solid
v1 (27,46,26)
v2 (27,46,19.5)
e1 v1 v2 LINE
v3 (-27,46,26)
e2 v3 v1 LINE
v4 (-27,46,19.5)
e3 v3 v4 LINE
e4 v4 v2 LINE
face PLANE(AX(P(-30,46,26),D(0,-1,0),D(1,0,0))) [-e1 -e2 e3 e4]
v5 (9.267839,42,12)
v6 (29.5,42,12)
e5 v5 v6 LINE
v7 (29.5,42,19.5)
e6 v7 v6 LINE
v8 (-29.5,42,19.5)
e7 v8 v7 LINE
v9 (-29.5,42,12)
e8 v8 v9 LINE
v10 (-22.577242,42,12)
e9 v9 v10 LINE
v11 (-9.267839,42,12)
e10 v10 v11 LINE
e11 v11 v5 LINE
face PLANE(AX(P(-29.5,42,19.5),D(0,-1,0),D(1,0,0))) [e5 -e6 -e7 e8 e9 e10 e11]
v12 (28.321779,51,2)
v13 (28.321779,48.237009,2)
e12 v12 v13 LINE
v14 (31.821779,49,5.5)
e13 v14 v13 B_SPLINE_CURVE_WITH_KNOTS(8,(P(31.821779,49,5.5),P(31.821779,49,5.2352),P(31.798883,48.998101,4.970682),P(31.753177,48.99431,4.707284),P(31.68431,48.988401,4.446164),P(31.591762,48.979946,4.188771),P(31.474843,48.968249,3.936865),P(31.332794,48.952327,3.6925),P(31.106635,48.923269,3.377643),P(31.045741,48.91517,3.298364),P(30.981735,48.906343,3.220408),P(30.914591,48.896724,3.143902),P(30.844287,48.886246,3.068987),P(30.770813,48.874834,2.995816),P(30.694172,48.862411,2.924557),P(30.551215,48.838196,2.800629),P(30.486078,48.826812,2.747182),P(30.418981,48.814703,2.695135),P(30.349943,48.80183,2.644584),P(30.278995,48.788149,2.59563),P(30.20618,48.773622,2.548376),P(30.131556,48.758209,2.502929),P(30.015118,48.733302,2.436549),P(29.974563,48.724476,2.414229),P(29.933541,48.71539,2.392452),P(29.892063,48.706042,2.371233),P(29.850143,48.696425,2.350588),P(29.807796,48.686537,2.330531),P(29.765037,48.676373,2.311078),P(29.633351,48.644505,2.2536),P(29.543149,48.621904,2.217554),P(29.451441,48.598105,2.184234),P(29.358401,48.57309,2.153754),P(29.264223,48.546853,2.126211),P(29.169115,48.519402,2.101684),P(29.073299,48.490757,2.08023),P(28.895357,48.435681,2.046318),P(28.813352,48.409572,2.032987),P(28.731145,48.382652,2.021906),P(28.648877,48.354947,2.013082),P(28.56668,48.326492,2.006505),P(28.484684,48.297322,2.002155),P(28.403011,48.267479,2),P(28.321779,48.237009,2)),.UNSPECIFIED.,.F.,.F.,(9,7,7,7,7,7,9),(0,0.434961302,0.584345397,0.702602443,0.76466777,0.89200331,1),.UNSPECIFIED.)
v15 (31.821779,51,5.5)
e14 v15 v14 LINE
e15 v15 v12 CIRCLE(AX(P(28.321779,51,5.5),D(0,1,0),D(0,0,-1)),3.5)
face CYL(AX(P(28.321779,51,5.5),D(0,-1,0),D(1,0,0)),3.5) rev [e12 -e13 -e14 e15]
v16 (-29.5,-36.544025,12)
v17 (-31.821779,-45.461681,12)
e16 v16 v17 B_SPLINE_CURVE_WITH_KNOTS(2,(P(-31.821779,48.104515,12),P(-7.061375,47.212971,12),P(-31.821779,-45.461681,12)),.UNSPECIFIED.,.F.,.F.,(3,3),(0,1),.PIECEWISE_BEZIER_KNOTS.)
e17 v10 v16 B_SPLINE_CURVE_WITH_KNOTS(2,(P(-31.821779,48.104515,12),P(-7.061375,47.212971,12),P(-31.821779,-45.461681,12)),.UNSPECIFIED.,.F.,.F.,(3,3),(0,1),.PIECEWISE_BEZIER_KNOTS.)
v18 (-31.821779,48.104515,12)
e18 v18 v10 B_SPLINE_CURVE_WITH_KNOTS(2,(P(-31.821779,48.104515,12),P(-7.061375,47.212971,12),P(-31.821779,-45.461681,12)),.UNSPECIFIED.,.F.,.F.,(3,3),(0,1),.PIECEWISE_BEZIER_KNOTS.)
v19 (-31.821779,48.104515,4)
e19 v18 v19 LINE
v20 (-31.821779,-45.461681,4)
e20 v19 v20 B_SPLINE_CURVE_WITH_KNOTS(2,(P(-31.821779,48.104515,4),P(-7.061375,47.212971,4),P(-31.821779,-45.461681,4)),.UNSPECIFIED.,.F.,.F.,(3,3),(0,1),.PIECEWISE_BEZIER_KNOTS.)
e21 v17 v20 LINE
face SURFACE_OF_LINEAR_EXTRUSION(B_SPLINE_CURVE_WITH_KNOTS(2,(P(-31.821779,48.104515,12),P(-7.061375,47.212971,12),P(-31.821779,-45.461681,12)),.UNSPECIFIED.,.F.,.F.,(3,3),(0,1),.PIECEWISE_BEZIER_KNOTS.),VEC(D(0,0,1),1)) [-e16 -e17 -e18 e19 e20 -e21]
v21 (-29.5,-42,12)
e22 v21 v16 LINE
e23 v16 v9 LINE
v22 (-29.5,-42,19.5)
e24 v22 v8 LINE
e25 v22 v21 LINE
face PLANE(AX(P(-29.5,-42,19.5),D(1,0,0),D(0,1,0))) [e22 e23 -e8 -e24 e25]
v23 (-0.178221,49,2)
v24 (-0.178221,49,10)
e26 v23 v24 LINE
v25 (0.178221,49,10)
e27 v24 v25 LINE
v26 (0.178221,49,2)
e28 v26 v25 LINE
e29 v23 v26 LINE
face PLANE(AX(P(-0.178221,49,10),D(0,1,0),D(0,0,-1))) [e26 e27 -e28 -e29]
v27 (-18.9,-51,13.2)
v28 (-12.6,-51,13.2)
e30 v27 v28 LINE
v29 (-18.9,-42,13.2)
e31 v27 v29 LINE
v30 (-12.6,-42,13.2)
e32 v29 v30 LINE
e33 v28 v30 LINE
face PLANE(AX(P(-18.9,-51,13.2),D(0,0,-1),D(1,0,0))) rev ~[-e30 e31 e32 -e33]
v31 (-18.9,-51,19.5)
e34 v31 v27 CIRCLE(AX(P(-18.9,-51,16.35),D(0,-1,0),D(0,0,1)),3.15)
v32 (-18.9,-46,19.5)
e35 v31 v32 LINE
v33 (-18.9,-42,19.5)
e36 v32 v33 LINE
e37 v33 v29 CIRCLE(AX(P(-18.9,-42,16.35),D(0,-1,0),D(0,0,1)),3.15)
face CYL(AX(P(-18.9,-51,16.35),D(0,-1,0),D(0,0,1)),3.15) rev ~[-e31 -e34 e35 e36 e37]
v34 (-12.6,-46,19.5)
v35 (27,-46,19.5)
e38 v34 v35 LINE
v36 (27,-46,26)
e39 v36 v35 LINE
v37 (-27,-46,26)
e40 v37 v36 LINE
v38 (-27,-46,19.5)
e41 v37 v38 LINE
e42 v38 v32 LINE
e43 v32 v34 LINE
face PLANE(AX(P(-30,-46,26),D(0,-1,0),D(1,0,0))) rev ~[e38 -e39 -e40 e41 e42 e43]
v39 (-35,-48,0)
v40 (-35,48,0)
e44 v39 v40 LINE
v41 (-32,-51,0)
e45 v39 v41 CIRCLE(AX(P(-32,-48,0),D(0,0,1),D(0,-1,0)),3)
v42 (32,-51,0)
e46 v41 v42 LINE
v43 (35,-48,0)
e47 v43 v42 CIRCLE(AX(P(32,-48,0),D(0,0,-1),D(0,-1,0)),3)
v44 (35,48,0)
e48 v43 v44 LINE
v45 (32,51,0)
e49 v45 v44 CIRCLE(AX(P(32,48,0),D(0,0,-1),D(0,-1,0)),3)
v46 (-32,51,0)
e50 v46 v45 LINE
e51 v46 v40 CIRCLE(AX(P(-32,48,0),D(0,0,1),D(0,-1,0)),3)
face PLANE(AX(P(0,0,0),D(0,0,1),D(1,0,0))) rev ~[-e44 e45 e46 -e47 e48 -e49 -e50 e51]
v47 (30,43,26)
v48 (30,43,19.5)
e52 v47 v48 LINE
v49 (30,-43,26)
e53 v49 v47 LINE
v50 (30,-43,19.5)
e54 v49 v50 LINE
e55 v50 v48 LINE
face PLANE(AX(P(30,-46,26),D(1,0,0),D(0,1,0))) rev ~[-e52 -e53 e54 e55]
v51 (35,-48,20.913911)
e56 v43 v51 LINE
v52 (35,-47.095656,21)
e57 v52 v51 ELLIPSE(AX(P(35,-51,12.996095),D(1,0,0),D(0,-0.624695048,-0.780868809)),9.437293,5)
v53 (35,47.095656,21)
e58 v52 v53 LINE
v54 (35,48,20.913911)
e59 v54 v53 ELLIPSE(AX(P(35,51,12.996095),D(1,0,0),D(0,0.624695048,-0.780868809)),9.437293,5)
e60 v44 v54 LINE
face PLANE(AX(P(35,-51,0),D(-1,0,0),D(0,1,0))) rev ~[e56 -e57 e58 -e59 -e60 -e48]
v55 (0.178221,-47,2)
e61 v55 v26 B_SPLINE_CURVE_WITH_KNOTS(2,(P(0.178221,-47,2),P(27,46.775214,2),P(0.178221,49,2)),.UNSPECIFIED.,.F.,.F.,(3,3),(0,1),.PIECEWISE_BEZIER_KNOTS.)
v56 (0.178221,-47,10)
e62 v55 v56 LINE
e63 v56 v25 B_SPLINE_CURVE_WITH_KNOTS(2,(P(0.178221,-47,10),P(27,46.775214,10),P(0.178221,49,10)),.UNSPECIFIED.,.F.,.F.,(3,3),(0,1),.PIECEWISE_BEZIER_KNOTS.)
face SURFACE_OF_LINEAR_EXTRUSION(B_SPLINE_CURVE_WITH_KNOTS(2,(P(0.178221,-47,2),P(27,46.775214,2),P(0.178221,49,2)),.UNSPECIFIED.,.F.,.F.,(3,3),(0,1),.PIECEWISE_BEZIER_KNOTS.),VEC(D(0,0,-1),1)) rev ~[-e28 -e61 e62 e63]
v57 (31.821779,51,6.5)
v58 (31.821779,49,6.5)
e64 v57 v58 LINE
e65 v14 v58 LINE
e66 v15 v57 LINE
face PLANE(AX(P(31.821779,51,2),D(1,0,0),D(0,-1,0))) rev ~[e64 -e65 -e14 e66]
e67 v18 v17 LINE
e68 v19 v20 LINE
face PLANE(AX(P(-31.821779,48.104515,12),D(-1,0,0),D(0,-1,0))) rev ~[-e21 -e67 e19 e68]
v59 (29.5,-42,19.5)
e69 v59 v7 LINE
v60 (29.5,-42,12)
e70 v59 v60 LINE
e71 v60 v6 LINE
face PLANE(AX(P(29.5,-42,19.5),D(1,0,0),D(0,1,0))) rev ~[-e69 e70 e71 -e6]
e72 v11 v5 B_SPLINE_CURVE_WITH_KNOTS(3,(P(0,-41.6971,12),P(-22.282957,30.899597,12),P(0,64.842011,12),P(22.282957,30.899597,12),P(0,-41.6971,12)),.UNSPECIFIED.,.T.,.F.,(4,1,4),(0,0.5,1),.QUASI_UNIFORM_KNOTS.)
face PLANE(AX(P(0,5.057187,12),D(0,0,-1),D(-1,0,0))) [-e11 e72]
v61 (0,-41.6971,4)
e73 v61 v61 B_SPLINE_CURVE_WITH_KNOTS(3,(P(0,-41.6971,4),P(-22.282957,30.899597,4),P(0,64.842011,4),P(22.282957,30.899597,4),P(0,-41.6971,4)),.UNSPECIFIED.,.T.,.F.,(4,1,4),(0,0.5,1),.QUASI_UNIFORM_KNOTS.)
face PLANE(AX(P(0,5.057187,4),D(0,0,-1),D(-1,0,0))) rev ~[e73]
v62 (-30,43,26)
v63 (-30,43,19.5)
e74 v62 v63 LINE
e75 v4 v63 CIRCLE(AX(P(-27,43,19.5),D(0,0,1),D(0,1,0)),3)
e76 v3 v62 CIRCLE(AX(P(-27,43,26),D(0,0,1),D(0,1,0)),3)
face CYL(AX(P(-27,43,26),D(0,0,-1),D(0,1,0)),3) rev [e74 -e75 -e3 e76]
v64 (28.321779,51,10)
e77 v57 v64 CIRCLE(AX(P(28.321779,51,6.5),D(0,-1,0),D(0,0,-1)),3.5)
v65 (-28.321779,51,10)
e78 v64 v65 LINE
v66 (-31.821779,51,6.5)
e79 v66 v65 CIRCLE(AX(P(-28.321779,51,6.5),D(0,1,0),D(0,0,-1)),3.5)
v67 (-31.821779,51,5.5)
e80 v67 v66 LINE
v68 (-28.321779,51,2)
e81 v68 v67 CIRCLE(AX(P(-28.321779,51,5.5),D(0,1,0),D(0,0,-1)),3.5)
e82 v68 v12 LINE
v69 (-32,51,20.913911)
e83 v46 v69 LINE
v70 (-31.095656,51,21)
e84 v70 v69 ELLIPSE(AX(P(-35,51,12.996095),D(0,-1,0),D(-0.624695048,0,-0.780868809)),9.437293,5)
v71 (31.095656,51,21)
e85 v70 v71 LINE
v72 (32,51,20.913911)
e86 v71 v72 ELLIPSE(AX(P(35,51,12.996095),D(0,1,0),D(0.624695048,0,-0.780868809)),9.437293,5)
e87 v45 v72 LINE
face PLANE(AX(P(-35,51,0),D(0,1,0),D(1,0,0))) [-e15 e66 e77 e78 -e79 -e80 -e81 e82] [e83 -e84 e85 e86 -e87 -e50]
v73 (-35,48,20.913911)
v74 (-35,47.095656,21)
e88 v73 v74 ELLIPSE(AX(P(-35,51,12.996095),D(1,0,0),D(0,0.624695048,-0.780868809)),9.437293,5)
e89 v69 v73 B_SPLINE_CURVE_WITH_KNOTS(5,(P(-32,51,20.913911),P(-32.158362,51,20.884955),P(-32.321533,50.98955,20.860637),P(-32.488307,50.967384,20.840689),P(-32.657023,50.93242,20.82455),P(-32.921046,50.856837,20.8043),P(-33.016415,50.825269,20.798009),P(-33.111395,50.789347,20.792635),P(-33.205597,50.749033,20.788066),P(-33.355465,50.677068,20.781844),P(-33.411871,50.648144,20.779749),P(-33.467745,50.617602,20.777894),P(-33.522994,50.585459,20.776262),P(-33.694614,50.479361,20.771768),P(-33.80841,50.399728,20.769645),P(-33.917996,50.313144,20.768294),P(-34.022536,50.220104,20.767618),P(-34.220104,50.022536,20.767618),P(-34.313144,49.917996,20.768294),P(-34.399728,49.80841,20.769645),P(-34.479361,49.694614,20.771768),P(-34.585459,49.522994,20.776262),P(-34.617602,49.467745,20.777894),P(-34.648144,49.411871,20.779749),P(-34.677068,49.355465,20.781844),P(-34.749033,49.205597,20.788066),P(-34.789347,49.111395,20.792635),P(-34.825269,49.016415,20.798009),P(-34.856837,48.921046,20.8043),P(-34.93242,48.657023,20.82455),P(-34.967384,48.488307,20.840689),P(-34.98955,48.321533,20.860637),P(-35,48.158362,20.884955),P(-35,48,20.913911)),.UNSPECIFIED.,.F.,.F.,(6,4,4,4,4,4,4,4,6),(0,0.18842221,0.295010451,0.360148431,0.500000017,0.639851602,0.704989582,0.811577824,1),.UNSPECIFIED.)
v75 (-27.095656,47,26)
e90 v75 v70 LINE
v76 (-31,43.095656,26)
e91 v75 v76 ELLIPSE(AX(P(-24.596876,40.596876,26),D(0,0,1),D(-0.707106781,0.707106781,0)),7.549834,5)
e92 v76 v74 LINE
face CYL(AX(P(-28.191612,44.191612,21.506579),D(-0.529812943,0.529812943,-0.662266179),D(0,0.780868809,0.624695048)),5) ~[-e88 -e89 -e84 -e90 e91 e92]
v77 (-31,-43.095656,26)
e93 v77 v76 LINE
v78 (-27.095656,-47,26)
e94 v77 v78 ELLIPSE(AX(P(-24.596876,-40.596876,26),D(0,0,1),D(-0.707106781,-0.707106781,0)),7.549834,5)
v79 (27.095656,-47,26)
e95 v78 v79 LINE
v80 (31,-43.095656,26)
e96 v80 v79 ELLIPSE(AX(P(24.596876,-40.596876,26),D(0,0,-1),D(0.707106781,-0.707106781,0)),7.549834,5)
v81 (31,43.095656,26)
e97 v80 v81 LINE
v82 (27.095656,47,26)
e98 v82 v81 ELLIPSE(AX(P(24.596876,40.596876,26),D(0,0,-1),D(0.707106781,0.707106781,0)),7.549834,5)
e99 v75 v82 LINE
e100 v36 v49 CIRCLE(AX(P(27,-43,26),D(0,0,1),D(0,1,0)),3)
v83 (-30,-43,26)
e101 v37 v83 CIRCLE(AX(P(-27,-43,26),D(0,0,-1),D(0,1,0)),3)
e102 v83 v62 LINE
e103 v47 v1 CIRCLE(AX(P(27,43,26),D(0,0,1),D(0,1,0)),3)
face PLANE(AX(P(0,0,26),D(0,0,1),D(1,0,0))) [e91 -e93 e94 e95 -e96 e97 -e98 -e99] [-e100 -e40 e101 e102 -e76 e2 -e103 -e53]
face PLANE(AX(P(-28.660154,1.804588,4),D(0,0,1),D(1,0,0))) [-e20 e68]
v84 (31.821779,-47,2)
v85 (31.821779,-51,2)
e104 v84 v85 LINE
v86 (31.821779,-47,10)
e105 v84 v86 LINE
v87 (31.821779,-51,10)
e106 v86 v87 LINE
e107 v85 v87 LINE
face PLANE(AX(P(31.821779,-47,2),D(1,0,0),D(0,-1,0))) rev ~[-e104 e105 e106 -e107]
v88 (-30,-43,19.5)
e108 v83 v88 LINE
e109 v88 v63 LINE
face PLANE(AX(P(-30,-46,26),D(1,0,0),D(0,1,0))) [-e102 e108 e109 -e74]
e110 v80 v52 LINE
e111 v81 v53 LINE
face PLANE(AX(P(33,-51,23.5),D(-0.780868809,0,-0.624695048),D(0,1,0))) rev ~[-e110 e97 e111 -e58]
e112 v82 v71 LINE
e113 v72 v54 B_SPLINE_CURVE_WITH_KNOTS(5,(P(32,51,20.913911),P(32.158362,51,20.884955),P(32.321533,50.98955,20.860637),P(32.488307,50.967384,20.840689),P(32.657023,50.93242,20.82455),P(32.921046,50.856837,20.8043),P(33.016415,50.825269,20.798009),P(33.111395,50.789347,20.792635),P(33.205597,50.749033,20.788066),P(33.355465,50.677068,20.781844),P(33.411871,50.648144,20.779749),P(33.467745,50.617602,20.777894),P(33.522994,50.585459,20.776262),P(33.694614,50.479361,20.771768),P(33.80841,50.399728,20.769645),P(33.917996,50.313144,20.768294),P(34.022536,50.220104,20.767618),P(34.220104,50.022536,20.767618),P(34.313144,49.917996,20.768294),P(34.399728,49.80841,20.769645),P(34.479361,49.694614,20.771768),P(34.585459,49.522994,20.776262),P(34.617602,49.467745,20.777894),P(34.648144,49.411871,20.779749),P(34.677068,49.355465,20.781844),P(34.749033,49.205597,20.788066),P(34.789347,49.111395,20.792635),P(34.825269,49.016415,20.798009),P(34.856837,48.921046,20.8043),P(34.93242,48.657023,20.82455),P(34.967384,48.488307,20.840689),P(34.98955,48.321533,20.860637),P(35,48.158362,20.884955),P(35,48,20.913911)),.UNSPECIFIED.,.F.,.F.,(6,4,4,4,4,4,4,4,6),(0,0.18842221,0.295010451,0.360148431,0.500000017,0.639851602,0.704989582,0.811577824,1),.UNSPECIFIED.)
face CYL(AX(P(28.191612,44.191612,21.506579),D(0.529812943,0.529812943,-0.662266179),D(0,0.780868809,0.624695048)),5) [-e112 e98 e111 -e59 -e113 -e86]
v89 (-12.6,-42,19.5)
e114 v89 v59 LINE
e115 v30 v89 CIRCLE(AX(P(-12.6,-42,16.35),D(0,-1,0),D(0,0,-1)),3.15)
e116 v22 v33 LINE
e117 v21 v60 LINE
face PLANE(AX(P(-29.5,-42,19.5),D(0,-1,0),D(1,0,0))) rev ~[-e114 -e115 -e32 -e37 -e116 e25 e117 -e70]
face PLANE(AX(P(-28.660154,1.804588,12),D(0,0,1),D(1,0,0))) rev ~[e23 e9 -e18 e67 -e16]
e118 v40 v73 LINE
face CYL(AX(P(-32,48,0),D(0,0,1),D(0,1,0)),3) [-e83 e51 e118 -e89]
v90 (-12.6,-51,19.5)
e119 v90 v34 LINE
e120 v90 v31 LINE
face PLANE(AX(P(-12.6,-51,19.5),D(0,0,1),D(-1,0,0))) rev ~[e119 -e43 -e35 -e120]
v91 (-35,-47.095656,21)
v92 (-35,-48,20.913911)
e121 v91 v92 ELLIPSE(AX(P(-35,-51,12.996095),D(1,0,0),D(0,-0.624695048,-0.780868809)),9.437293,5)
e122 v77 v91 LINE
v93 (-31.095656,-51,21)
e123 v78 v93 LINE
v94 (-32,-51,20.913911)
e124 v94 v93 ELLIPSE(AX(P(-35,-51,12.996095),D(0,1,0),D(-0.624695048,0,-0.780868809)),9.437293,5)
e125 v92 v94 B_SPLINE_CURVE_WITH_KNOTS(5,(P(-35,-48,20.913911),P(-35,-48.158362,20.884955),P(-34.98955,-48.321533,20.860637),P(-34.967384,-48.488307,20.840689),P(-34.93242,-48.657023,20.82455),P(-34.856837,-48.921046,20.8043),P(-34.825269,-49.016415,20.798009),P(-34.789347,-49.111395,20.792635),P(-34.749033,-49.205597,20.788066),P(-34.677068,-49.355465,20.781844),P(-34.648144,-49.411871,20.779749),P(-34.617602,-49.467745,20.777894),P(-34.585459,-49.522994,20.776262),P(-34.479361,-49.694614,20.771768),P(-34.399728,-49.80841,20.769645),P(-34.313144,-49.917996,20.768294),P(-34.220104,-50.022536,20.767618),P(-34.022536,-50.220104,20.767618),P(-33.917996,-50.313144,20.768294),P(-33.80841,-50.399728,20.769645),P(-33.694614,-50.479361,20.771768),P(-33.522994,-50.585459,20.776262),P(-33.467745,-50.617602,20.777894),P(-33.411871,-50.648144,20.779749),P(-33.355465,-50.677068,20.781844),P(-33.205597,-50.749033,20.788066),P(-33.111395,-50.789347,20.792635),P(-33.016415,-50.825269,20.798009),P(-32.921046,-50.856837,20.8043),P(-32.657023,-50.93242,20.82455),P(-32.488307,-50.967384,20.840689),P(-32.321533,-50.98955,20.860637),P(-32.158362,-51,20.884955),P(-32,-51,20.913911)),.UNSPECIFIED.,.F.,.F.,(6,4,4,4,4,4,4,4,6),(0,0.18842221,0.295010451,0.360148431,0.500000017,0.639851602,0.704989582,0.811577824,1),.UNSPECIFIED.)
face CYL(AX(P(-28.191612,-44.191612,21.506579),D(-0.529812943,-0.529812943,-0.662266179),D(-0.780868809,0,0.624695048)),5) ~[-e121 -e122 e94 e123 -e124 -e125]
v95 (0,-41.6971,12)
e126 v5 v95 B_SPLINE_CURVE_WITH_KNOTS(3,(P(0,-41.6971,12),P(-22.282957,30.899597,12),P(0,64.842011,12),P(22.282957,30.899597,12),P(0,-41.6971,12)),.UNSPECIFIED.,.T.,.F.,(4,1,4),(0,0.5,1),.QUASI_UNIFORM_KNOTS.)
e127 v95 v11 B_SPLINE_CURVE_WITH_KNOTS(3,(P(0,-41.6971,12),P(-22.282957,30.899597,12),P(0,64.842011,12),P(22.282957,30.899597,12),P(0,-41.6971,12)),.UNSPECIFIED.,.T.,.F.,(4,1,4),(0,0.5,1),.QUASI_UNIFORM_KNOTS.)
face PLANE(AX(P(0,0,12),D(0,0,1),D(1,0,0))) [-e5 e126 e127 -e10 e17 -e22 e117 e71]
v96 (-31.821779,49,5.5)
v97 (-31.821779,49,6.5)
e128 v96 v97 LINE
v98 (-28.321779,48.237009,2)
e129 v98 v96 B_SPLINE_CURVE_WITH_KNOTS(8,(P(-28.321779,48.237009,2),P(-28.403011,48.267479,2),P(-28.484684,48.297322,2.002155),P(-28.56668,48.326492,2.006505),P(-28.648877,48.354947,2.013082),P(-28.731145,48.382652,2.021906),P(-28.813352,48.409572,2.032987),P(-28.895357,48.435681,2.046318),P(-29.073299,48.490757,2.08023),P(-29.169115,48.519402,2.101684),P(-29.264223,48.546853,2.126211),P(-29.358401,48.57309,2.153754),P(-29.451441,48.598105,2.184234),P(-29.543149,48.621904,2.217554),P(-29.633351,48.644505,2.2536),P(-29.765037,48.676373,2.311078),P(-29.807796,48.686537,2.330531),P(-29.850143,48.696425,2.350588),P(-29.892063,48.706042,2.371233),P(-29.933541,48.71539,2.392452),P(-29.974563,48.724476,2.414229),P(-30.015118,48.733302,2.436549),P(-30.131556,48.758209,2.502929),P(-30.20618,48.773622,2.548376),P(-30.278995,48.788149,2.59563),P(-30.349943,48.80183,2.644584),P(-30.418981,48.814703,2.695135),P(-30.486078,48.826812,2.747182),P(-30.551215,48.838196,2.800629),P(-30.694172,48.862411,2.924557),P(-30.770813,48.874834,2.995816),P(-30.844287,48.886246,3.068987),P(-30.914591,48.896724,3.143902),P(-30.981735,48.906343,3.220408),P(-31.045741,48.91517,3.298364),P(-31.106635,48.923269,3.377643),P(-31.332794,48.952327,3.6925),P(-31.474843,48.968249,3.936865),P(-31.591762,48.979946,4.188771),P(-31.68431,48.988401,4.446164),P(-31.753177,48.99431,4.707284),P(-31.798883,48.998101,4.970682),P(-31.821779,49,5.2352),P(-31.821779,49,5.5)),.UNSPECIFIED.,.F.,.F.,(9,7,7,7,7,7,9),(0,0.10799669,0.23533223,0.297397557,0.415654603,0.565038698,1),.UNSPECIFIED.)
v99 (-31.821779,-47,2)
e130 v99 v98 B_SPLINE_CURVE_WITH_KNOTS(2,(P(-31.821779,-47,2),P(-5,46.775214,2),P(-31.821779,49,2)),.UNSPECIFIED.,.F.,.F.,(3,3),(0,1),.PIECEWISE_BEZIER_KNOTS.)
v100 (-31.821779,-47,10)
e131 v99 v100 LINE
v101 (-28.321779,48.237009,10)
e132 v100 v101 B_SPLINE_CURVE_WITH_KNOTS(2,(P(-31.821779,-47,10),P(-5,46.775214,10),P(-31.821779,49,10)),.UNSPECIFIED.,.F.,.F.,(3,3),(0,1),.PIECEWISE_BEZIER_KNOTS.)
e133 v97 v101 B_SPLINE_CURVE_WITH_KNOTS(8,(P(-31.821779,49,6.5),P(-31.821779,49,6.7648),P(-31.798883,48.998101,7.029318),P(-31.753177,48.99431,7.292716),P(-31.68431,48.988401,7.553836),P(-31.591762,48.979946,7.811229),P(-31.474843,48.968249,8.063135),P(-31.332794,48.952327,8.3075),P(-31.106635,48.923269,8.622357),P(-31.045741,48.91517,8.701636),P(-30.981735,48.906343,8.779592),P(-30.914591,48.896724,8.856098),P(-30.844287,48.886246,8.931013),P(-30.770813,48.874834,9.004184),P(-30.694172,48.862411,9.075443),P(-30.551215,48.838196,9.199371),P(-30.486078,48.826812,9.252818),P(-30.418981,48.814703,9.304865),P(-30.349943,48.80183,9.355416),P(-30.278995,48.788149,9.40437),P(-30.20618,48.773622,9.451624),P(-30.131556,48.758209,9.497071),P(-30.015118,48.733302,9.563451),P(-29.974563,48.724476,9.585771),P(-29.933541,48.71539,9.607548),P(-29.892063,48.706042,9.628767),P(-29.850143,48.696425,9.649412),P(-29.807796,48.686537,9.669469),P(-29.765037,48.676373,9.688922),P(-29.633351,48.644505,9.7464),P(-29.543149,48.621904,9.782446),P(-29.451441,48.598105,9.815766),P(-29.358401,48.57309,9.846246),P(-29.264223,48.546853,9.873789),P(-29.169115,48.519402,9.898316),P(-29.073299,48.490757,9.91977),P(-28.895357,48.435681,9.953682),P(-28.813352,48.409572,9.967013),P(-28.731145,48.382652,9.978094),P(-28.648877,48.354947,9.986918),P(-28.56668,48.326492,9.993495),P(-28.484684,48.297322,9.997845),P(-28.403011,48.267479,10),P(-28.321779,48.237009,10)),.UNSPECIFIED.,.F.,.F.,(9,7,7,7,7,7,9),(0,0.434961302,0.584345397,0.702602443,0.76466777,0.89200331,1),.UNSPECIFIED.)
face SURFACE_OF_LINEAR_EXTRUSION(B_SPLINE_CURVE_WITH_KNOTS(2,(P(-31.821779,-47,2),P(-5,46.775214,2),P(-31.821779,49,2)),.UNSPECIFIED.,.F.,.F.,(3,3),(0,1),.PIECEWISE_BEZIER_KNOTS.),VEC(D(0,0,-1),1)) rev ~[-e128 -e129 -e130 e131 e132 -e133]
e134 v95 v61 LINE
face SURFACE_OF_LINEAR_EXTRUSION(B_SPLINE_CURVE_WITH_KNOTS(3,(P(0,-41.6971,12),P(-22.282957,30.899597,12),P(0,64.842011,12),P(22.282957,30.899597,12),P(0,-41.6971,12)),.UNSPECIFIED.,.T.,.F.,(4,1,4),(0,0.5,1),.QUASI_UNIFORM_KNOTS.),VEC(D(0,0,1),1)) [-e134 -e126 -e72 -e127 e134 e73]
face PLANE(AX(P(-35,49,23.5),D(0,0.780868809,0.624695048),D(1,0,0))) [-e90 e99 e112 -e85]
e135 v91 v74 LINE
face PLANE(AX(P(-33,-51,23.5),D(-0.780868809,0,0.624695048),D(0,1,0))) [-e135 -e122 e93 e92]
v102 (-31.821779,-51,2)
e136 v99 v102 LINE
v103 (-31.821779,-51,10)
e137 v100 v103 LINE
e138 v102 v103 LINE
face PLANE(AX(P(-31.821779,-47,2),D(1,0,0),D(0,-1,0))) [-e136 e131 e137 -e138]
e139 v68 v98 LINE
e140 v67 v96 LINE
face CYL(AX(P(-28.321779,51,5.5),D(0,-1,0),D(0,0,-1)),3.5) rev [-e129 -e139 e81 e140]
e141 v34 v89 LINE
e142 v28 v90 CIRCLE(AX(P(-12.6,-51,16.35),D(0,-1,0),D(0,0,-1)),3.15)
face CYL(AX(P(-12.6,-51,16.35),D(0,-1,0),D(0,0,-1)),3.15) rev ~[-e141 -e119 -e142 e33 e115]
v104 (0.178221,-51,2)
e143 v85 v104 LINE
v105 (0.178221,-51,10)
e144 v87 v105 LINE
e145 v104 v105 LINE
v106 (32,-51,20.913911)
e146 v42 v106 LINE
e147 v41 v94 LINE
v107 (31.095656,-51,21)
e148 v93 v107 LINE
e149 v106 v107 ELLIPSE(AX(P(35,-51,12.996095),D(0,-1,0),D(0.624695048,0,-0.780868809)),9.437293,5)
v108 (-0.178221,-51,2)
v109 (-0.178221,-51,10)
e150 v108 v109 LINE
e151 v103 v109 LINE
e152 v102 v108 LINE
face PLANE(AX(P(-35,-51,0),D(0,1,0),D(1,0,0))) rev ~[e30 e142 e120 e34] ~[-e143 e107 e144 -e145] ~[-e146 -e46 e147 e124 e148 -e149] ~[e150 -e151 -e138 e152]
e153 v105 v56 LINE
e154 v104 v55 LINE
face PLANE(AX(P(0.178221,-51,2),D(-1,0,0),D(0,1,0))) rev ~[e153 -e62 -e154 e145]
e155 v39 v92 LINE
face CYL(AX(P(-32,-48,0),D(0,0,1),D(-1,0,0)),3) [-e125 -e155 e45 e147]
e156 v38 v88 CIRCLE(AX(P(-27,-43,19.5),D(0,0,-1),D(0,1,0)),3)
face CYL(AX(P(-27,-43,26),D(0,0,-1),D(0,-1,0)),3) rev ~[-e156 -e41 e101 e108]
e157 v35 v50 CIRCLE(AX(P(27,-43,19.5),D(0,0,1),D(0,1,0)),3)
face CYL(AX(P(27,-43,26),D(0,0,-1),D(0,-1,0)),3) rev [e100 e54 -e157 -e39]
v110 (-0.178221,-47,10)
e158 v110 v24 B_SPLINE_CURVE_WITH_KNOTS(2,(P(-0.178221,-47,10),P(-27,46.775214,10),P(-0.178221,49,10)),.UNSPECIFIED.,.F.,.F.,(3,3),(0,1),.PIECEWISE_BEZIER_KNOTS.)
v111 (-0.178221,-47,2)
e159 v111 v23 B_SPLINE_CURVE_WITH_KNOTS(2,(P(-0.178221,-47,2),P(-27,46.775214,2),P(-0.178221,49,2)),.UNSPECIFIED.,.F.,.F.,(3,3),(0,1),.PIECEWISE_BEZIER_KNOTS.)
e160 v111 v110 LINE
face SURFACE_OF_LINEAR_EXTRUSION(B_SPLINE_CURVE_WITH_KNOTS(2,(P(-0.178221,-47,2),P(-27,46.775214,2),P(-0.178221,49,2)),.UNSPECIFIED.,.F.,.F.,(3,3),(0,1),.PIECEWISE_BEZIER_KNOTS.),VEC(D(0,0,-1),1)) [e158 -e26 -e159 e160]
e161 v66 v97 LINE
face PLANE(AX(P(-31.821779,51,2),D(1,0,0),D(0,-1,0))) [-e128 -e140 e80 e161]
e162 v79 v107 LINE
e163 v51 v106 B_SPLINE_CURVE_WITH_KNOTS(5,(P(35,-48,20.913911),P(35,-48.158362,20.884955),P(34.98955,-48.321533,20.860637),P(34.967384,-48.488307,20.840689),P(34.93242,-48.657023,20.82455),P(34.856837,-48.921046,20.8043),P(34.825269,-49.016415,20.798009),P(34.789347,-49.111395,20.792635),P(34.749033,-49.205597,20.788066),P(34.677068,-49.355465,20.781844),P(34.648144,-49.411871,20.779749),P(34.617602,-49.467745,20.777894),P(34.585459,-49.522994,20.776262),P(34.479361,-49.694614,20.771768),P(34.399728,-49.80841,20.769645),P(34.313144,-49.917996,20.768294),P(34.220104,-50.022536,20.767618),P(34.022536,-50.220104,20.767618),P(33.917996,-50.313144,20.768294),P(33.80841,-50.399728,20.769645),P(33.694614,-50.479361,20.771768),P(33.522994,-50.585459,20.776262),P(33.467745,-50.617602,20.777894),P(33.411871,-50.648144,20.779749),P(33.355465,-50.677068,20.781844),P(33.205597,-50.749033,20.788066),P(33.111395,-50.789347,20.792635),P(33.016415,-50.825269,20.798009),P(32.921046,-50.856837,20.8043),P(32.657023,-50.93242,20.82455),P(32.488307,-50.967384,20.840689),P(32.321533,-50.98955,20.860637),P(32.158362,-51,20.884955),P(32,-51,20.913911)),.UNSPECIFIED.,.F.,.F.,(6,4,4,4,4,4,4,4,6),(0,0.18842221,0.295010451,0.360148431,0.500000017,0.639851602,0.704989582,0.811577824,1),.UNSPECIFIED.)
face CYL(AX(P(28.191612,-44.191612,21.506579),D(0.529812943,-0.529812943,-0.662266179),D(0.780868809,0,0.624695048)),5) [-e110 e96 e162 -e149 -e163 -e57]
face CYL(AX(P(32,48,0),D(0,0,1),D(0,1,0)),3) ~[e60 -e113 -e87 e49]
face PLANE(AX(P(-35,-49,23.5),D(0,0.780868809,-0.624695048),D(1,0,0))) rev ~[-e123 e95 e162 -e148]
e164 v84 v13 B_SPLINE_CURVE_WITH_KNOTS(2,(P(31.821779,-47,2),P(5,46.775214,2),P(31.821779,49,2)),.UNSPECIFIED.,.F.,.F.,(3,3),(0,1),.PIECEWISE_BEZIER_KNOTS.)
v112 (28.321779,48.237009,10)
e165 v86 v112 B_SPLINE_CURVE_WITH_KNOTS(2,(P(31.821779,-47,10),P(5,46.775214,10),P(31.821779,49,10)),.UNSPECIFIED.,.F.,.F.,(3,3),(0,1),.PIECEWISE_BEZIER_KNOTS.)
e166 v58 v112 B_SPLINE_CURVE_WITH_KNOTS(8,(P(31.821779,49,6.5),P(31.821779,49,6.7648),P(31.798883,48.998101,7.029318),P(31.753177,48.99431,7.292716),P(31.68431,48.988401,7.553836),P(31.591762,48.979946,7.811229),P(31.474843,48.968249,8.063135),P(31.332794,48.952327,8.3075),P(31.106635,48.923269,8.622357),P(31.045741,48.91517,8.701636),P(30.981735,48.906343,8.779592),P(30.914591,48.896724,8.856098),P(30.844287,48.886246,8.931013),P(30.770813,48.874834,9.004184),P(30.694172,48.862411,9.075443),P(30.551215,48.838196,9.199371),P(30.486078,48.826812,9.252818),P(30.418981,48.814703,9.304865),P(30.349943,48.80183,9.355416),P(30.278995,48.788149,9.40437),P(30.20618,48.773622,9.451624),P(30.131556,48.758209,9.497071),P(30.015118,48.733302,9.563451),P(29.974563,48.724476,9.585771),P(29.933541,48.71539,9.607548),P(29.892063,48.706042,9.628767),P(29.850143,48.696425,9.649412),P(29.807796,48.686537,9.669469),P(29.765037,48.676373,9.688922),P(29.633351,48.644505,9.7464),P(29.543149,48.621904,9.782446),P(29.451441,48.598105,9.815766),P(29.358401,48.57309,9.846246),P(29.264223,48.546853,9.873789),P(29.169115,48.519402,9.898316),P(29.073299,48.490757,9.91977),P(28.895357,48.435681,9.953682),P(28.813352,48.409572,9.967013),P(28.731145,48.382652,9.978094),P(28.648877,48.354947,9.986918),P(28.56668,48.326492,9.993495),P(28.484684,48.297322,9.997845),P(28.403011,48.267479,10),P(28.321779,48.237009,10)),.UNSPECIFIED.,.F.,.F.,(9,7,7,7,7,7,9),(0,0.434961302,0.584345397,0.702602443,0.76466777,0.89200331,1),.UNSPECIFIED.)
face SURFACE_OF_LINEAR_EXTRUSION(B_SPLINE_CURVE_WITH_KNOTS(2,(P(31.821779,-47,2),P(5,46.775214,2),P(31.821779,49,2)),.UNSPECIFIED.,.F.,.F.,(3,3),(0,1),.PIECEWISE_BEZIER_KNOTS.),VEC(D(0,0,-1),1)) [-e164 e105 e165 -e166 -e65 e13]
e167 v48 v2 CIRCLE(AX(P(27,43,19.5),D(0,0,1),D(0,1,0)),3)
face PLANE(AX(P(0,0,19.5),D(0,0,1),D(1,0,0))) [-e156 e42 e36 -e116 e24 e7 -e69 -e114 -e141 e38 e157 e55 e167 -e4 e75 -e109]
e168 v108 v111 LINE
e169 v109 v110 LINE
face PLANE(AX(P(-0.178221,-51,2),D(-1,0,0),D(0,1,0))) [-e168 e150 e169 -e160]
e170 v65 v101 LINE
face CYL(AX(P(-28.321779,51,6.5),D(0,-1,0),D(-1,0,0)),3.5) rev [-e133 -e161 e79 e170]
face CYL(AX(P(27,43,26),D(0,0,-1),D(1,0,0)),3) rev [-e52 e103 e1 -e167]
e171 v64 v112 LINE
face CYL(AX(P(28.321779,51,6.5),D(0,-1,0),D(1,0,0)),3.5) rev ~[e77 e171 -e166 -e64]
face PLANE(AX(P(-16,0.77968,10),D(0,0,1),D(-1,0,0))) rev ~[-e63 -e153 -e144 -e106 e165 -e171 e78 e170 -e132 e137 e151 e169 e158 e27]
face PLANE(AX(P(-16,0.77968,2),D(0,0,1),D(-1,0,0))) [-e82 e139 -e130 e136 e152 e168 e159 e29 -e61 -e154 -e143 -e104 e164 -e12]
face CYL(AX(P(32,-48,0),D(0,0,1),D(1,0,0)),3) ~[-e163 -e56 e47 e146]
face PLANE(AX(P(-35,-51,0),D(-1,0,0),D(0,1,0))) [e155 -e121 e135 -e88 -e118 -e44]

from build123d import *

# Parameters (mm, degrees)
SKETCH016_W        = 70
SKETCH016_H        = 102
PAD007_DEPTH       = 26
SKETCH017_W        = 60
SKETCH017_H        = 92
POCKET011_DEPTH    = 6.5
FILLET010_R        = 3
SKETCH018_W        = 59
SKETCH018_H        = 84
POCKET012_DEPTH    = 7.5
POCKET013_DEPTH    = 9
POCKET014_DEPTH    = 8
POCKET015_DEPTH    = 8
CHAMFER007_SIZE2   = 5
CHAMFER007_SIZE    = 4
FILLET011_R        = 5
FILLET012_R        = 3
POCKET015_FACE20_W = 2
POCKET015_FACE20_H = 8
POCKET016_DEPTH    = 0.356442
FILLET013_R        = 3.5


with BuildPart() as part:
    # Sketch016 → Pad007 (new body)
    with BuildSketch(Plane.XY):
        Rectangle(SKETCH016_W, SKETCH016_H)
    extrude(amount=PAD007_DEPTH)

    # Sketch017 (on Face6 of Pad007) → Pocket011 (cut)
    with BuildSketch(Plane.XY.offset(26)):
        Rectangle(SKETCH017_W, SKETCH017_H)
    extrude(amount=-POCKET011_DEPTH, mode=Mode.SUBTRACT)

    # Fillet010
    fillet010_edges = [part.edges().sort_by_distance(p)[0] for p in [
        (30, 46, 22.75),
        (-30, 46, 22.75),
        (-30, -46, 22.75),
        (30, -46, 22.75),
    ]]
    fillet(fillet010_edges, radius=FILLET010_R)

    # Sketch018 (on Face11 of Pocket011) → Pocket012 (cut)
    with BuildSketch(Plane.XY.offset(19.5)):
        Rectangle(SKETCH018_W, SKETCH018_H)
    extrude(amount=-POCKET012_DEPTH, mode=Mode.SUBTRACT)

    # Sketch019 (on Face13 of Pocket012) → Pocket013 (cut)
    with BuildSketch(Plane.XZ.offset(51)):
        with BuildLine():
            ThreePointArc((-18.9, 19.5), (-22.05, 16.35), (-18.9, 13.2))
            Line((-18.9, 13.2), (-12.6, 13.2))
            ThreePointArc((-12.6, 13.2), (-9.45, 16.35), (-12.6, 19.5))
            Line((-12.6, 19.5), (-18.9, 19.5))
        make_face()
    extrude(amount=-POCKET013_DEPTH, mode=Mode.SUBTRACT)

    # Sketch020 (on DatumPlane) → Pocket014 (cut)
    with BuildSketch(Plane(origin=(0, 0, 2), x_dir=(1, 0, 0), z_dir=(0, 0, -1))):
        with BuildLine():
            Line((-31.821779, 47), (-31.821779, 51))
            Line((-31.821779, 51), (-0.178221, 51))
            Line((-0.178221, 51), (-0.178221, 47))
            add(Edge.make_bspline(
                [(-0.178221, 47), (-27, -46.775214), (-0.178221, -49)],
                knots=[0, 0, 0, 1, 1, 1], degree=2))
            Line((-0.178221, -49), (-0.178221, -51))
            Line((-0.178221, -51), (-31.821779, -51))
            Line((-31.821779, -51), (-31.821779, -49))
            add(Edge.make_bspline(
                [(-31.821779, 47), (-5, -46.775214), (-31.821779, -49)],
                knots=[0, 0, 0, 1, 1, 1], degree=2))
        make_face()
        with BuildLine():
            Line((31.821779, 47), (31.821779, 51))
            Line((31.821779, 51), (0.178221, 51))
            Line((0.178221, 51), (0.178221, 47))
            add(Edge.make_bspline(
                [(0.178221, 47), (27, -46.775214), (0.178221, -49)],
                knots=[0, 0, 0, 1, 1, 1], degree=2))
            Line((0.178221, -49), (0.178221, -51))
            Line((0.178221, -51), (31.821779, -51))
            Line((31.821779, -51), (31.821779, -49))
            add(Edge.make_bspline(
                [(31.821779, 47), (5, -46.775214), (31.821779, -49)],
                knots=[0, 0, 0, 1, 1, 1], degree=2))
        make_face()
    extrude(amount=-POCKET014_DEPTH, mode=Mode.SUBTRACT)

    # Sketch021 (on DatumPlane) → Pocket015 (cut)
    with BuildSketch(Plane.XY.offset(12)):
        with BuildLine():
            add(Edge.make_bspline(
                [(0, -41.6971), (-22.282957, 30.899597), (0, 64.842011), (22.282957, 30.899597), (0, -41.6971)],
                knots=[0, 0, 0, 0, 0.5, 1, 1, 1, 1], degree=3))
        make_face()
        with BuildLine():
            Line((-31.821779, 48.104515), (-31.821779, -45.461681))
            add(Edge.make_bspline(
                [(-31.821779, 48.104515), (-7.061375, 47.212971), (-31.821779, -45.461681)],
                knots=[0, 0, 0, 1, 1, 1], degree=2))
        make_face()
    extrude(amount=-POCKET015_DEPTH, mode=Mode.SUBTRACT)

    # Chamfer007
    chamfer007_edges = [part.edges().sort_by_distance(p)[0] for p in [
        (0, 51, 26),
        (-35, 0, 26),
        (35, 0, 26),
        (0, -51, 26),
    ]]
    chamfer007_side = part.faces().sort_by_distance((-31.237093, 0, 26))[0]
    chamfer(chamfer007_edges, length=CHAMFER007_SIZE, length2=CHAMFER007_SIZE2, reference=chamfer007_side)

    # Fillet011
    fillet011_edges = [part.edges().sort_by_distance(p)[0] for p in [
        (-33, -49, 23.5),
        (-33, 49, 23.5),
        (33, -49, 23.5),
        (33, 49, 23.5),
    ]]
    fillet(fillet011_edges, radius=FILLET011_R)

    # Fillet012
    fillet012_edges = [part.edges().sort_by_distance(p)[0] for p in [
        (35, 51, 9.834634),
        (-35, 51, 9.834634),
        (-35, -51, 9.834634),
        (35, -51, 9.834634),
    ]]
    fillet(fillet012_edges, radius=FILLET012_R)

    # Pocket015 Face20 → Pocket016 (cut)
    with BuildSketch(Plane(origin=(-0.178221, 50, 6), x_dir=(0, 1, 0), z_dir=(-1, 0, 0))):
        Rectangle(POCKET015_FACE20_W, POCKET015_FACE20_H)
    extrude(amount=-POCKET016_DEPTH, mode=Mode.SUBTRACT)

    # Fillet013
    fillet013_edges = [part.edges().sort_by_distance(p)[0] for p in [
        (-31.821779, 50, 10),
        (31.821779, 50, 10),
        (-31.821779, 50, 2),
        (31.821779, 50, 2),
    ]]
    fillet(fillet013_edges, radius=FILLET013_R)


solid = part.part
